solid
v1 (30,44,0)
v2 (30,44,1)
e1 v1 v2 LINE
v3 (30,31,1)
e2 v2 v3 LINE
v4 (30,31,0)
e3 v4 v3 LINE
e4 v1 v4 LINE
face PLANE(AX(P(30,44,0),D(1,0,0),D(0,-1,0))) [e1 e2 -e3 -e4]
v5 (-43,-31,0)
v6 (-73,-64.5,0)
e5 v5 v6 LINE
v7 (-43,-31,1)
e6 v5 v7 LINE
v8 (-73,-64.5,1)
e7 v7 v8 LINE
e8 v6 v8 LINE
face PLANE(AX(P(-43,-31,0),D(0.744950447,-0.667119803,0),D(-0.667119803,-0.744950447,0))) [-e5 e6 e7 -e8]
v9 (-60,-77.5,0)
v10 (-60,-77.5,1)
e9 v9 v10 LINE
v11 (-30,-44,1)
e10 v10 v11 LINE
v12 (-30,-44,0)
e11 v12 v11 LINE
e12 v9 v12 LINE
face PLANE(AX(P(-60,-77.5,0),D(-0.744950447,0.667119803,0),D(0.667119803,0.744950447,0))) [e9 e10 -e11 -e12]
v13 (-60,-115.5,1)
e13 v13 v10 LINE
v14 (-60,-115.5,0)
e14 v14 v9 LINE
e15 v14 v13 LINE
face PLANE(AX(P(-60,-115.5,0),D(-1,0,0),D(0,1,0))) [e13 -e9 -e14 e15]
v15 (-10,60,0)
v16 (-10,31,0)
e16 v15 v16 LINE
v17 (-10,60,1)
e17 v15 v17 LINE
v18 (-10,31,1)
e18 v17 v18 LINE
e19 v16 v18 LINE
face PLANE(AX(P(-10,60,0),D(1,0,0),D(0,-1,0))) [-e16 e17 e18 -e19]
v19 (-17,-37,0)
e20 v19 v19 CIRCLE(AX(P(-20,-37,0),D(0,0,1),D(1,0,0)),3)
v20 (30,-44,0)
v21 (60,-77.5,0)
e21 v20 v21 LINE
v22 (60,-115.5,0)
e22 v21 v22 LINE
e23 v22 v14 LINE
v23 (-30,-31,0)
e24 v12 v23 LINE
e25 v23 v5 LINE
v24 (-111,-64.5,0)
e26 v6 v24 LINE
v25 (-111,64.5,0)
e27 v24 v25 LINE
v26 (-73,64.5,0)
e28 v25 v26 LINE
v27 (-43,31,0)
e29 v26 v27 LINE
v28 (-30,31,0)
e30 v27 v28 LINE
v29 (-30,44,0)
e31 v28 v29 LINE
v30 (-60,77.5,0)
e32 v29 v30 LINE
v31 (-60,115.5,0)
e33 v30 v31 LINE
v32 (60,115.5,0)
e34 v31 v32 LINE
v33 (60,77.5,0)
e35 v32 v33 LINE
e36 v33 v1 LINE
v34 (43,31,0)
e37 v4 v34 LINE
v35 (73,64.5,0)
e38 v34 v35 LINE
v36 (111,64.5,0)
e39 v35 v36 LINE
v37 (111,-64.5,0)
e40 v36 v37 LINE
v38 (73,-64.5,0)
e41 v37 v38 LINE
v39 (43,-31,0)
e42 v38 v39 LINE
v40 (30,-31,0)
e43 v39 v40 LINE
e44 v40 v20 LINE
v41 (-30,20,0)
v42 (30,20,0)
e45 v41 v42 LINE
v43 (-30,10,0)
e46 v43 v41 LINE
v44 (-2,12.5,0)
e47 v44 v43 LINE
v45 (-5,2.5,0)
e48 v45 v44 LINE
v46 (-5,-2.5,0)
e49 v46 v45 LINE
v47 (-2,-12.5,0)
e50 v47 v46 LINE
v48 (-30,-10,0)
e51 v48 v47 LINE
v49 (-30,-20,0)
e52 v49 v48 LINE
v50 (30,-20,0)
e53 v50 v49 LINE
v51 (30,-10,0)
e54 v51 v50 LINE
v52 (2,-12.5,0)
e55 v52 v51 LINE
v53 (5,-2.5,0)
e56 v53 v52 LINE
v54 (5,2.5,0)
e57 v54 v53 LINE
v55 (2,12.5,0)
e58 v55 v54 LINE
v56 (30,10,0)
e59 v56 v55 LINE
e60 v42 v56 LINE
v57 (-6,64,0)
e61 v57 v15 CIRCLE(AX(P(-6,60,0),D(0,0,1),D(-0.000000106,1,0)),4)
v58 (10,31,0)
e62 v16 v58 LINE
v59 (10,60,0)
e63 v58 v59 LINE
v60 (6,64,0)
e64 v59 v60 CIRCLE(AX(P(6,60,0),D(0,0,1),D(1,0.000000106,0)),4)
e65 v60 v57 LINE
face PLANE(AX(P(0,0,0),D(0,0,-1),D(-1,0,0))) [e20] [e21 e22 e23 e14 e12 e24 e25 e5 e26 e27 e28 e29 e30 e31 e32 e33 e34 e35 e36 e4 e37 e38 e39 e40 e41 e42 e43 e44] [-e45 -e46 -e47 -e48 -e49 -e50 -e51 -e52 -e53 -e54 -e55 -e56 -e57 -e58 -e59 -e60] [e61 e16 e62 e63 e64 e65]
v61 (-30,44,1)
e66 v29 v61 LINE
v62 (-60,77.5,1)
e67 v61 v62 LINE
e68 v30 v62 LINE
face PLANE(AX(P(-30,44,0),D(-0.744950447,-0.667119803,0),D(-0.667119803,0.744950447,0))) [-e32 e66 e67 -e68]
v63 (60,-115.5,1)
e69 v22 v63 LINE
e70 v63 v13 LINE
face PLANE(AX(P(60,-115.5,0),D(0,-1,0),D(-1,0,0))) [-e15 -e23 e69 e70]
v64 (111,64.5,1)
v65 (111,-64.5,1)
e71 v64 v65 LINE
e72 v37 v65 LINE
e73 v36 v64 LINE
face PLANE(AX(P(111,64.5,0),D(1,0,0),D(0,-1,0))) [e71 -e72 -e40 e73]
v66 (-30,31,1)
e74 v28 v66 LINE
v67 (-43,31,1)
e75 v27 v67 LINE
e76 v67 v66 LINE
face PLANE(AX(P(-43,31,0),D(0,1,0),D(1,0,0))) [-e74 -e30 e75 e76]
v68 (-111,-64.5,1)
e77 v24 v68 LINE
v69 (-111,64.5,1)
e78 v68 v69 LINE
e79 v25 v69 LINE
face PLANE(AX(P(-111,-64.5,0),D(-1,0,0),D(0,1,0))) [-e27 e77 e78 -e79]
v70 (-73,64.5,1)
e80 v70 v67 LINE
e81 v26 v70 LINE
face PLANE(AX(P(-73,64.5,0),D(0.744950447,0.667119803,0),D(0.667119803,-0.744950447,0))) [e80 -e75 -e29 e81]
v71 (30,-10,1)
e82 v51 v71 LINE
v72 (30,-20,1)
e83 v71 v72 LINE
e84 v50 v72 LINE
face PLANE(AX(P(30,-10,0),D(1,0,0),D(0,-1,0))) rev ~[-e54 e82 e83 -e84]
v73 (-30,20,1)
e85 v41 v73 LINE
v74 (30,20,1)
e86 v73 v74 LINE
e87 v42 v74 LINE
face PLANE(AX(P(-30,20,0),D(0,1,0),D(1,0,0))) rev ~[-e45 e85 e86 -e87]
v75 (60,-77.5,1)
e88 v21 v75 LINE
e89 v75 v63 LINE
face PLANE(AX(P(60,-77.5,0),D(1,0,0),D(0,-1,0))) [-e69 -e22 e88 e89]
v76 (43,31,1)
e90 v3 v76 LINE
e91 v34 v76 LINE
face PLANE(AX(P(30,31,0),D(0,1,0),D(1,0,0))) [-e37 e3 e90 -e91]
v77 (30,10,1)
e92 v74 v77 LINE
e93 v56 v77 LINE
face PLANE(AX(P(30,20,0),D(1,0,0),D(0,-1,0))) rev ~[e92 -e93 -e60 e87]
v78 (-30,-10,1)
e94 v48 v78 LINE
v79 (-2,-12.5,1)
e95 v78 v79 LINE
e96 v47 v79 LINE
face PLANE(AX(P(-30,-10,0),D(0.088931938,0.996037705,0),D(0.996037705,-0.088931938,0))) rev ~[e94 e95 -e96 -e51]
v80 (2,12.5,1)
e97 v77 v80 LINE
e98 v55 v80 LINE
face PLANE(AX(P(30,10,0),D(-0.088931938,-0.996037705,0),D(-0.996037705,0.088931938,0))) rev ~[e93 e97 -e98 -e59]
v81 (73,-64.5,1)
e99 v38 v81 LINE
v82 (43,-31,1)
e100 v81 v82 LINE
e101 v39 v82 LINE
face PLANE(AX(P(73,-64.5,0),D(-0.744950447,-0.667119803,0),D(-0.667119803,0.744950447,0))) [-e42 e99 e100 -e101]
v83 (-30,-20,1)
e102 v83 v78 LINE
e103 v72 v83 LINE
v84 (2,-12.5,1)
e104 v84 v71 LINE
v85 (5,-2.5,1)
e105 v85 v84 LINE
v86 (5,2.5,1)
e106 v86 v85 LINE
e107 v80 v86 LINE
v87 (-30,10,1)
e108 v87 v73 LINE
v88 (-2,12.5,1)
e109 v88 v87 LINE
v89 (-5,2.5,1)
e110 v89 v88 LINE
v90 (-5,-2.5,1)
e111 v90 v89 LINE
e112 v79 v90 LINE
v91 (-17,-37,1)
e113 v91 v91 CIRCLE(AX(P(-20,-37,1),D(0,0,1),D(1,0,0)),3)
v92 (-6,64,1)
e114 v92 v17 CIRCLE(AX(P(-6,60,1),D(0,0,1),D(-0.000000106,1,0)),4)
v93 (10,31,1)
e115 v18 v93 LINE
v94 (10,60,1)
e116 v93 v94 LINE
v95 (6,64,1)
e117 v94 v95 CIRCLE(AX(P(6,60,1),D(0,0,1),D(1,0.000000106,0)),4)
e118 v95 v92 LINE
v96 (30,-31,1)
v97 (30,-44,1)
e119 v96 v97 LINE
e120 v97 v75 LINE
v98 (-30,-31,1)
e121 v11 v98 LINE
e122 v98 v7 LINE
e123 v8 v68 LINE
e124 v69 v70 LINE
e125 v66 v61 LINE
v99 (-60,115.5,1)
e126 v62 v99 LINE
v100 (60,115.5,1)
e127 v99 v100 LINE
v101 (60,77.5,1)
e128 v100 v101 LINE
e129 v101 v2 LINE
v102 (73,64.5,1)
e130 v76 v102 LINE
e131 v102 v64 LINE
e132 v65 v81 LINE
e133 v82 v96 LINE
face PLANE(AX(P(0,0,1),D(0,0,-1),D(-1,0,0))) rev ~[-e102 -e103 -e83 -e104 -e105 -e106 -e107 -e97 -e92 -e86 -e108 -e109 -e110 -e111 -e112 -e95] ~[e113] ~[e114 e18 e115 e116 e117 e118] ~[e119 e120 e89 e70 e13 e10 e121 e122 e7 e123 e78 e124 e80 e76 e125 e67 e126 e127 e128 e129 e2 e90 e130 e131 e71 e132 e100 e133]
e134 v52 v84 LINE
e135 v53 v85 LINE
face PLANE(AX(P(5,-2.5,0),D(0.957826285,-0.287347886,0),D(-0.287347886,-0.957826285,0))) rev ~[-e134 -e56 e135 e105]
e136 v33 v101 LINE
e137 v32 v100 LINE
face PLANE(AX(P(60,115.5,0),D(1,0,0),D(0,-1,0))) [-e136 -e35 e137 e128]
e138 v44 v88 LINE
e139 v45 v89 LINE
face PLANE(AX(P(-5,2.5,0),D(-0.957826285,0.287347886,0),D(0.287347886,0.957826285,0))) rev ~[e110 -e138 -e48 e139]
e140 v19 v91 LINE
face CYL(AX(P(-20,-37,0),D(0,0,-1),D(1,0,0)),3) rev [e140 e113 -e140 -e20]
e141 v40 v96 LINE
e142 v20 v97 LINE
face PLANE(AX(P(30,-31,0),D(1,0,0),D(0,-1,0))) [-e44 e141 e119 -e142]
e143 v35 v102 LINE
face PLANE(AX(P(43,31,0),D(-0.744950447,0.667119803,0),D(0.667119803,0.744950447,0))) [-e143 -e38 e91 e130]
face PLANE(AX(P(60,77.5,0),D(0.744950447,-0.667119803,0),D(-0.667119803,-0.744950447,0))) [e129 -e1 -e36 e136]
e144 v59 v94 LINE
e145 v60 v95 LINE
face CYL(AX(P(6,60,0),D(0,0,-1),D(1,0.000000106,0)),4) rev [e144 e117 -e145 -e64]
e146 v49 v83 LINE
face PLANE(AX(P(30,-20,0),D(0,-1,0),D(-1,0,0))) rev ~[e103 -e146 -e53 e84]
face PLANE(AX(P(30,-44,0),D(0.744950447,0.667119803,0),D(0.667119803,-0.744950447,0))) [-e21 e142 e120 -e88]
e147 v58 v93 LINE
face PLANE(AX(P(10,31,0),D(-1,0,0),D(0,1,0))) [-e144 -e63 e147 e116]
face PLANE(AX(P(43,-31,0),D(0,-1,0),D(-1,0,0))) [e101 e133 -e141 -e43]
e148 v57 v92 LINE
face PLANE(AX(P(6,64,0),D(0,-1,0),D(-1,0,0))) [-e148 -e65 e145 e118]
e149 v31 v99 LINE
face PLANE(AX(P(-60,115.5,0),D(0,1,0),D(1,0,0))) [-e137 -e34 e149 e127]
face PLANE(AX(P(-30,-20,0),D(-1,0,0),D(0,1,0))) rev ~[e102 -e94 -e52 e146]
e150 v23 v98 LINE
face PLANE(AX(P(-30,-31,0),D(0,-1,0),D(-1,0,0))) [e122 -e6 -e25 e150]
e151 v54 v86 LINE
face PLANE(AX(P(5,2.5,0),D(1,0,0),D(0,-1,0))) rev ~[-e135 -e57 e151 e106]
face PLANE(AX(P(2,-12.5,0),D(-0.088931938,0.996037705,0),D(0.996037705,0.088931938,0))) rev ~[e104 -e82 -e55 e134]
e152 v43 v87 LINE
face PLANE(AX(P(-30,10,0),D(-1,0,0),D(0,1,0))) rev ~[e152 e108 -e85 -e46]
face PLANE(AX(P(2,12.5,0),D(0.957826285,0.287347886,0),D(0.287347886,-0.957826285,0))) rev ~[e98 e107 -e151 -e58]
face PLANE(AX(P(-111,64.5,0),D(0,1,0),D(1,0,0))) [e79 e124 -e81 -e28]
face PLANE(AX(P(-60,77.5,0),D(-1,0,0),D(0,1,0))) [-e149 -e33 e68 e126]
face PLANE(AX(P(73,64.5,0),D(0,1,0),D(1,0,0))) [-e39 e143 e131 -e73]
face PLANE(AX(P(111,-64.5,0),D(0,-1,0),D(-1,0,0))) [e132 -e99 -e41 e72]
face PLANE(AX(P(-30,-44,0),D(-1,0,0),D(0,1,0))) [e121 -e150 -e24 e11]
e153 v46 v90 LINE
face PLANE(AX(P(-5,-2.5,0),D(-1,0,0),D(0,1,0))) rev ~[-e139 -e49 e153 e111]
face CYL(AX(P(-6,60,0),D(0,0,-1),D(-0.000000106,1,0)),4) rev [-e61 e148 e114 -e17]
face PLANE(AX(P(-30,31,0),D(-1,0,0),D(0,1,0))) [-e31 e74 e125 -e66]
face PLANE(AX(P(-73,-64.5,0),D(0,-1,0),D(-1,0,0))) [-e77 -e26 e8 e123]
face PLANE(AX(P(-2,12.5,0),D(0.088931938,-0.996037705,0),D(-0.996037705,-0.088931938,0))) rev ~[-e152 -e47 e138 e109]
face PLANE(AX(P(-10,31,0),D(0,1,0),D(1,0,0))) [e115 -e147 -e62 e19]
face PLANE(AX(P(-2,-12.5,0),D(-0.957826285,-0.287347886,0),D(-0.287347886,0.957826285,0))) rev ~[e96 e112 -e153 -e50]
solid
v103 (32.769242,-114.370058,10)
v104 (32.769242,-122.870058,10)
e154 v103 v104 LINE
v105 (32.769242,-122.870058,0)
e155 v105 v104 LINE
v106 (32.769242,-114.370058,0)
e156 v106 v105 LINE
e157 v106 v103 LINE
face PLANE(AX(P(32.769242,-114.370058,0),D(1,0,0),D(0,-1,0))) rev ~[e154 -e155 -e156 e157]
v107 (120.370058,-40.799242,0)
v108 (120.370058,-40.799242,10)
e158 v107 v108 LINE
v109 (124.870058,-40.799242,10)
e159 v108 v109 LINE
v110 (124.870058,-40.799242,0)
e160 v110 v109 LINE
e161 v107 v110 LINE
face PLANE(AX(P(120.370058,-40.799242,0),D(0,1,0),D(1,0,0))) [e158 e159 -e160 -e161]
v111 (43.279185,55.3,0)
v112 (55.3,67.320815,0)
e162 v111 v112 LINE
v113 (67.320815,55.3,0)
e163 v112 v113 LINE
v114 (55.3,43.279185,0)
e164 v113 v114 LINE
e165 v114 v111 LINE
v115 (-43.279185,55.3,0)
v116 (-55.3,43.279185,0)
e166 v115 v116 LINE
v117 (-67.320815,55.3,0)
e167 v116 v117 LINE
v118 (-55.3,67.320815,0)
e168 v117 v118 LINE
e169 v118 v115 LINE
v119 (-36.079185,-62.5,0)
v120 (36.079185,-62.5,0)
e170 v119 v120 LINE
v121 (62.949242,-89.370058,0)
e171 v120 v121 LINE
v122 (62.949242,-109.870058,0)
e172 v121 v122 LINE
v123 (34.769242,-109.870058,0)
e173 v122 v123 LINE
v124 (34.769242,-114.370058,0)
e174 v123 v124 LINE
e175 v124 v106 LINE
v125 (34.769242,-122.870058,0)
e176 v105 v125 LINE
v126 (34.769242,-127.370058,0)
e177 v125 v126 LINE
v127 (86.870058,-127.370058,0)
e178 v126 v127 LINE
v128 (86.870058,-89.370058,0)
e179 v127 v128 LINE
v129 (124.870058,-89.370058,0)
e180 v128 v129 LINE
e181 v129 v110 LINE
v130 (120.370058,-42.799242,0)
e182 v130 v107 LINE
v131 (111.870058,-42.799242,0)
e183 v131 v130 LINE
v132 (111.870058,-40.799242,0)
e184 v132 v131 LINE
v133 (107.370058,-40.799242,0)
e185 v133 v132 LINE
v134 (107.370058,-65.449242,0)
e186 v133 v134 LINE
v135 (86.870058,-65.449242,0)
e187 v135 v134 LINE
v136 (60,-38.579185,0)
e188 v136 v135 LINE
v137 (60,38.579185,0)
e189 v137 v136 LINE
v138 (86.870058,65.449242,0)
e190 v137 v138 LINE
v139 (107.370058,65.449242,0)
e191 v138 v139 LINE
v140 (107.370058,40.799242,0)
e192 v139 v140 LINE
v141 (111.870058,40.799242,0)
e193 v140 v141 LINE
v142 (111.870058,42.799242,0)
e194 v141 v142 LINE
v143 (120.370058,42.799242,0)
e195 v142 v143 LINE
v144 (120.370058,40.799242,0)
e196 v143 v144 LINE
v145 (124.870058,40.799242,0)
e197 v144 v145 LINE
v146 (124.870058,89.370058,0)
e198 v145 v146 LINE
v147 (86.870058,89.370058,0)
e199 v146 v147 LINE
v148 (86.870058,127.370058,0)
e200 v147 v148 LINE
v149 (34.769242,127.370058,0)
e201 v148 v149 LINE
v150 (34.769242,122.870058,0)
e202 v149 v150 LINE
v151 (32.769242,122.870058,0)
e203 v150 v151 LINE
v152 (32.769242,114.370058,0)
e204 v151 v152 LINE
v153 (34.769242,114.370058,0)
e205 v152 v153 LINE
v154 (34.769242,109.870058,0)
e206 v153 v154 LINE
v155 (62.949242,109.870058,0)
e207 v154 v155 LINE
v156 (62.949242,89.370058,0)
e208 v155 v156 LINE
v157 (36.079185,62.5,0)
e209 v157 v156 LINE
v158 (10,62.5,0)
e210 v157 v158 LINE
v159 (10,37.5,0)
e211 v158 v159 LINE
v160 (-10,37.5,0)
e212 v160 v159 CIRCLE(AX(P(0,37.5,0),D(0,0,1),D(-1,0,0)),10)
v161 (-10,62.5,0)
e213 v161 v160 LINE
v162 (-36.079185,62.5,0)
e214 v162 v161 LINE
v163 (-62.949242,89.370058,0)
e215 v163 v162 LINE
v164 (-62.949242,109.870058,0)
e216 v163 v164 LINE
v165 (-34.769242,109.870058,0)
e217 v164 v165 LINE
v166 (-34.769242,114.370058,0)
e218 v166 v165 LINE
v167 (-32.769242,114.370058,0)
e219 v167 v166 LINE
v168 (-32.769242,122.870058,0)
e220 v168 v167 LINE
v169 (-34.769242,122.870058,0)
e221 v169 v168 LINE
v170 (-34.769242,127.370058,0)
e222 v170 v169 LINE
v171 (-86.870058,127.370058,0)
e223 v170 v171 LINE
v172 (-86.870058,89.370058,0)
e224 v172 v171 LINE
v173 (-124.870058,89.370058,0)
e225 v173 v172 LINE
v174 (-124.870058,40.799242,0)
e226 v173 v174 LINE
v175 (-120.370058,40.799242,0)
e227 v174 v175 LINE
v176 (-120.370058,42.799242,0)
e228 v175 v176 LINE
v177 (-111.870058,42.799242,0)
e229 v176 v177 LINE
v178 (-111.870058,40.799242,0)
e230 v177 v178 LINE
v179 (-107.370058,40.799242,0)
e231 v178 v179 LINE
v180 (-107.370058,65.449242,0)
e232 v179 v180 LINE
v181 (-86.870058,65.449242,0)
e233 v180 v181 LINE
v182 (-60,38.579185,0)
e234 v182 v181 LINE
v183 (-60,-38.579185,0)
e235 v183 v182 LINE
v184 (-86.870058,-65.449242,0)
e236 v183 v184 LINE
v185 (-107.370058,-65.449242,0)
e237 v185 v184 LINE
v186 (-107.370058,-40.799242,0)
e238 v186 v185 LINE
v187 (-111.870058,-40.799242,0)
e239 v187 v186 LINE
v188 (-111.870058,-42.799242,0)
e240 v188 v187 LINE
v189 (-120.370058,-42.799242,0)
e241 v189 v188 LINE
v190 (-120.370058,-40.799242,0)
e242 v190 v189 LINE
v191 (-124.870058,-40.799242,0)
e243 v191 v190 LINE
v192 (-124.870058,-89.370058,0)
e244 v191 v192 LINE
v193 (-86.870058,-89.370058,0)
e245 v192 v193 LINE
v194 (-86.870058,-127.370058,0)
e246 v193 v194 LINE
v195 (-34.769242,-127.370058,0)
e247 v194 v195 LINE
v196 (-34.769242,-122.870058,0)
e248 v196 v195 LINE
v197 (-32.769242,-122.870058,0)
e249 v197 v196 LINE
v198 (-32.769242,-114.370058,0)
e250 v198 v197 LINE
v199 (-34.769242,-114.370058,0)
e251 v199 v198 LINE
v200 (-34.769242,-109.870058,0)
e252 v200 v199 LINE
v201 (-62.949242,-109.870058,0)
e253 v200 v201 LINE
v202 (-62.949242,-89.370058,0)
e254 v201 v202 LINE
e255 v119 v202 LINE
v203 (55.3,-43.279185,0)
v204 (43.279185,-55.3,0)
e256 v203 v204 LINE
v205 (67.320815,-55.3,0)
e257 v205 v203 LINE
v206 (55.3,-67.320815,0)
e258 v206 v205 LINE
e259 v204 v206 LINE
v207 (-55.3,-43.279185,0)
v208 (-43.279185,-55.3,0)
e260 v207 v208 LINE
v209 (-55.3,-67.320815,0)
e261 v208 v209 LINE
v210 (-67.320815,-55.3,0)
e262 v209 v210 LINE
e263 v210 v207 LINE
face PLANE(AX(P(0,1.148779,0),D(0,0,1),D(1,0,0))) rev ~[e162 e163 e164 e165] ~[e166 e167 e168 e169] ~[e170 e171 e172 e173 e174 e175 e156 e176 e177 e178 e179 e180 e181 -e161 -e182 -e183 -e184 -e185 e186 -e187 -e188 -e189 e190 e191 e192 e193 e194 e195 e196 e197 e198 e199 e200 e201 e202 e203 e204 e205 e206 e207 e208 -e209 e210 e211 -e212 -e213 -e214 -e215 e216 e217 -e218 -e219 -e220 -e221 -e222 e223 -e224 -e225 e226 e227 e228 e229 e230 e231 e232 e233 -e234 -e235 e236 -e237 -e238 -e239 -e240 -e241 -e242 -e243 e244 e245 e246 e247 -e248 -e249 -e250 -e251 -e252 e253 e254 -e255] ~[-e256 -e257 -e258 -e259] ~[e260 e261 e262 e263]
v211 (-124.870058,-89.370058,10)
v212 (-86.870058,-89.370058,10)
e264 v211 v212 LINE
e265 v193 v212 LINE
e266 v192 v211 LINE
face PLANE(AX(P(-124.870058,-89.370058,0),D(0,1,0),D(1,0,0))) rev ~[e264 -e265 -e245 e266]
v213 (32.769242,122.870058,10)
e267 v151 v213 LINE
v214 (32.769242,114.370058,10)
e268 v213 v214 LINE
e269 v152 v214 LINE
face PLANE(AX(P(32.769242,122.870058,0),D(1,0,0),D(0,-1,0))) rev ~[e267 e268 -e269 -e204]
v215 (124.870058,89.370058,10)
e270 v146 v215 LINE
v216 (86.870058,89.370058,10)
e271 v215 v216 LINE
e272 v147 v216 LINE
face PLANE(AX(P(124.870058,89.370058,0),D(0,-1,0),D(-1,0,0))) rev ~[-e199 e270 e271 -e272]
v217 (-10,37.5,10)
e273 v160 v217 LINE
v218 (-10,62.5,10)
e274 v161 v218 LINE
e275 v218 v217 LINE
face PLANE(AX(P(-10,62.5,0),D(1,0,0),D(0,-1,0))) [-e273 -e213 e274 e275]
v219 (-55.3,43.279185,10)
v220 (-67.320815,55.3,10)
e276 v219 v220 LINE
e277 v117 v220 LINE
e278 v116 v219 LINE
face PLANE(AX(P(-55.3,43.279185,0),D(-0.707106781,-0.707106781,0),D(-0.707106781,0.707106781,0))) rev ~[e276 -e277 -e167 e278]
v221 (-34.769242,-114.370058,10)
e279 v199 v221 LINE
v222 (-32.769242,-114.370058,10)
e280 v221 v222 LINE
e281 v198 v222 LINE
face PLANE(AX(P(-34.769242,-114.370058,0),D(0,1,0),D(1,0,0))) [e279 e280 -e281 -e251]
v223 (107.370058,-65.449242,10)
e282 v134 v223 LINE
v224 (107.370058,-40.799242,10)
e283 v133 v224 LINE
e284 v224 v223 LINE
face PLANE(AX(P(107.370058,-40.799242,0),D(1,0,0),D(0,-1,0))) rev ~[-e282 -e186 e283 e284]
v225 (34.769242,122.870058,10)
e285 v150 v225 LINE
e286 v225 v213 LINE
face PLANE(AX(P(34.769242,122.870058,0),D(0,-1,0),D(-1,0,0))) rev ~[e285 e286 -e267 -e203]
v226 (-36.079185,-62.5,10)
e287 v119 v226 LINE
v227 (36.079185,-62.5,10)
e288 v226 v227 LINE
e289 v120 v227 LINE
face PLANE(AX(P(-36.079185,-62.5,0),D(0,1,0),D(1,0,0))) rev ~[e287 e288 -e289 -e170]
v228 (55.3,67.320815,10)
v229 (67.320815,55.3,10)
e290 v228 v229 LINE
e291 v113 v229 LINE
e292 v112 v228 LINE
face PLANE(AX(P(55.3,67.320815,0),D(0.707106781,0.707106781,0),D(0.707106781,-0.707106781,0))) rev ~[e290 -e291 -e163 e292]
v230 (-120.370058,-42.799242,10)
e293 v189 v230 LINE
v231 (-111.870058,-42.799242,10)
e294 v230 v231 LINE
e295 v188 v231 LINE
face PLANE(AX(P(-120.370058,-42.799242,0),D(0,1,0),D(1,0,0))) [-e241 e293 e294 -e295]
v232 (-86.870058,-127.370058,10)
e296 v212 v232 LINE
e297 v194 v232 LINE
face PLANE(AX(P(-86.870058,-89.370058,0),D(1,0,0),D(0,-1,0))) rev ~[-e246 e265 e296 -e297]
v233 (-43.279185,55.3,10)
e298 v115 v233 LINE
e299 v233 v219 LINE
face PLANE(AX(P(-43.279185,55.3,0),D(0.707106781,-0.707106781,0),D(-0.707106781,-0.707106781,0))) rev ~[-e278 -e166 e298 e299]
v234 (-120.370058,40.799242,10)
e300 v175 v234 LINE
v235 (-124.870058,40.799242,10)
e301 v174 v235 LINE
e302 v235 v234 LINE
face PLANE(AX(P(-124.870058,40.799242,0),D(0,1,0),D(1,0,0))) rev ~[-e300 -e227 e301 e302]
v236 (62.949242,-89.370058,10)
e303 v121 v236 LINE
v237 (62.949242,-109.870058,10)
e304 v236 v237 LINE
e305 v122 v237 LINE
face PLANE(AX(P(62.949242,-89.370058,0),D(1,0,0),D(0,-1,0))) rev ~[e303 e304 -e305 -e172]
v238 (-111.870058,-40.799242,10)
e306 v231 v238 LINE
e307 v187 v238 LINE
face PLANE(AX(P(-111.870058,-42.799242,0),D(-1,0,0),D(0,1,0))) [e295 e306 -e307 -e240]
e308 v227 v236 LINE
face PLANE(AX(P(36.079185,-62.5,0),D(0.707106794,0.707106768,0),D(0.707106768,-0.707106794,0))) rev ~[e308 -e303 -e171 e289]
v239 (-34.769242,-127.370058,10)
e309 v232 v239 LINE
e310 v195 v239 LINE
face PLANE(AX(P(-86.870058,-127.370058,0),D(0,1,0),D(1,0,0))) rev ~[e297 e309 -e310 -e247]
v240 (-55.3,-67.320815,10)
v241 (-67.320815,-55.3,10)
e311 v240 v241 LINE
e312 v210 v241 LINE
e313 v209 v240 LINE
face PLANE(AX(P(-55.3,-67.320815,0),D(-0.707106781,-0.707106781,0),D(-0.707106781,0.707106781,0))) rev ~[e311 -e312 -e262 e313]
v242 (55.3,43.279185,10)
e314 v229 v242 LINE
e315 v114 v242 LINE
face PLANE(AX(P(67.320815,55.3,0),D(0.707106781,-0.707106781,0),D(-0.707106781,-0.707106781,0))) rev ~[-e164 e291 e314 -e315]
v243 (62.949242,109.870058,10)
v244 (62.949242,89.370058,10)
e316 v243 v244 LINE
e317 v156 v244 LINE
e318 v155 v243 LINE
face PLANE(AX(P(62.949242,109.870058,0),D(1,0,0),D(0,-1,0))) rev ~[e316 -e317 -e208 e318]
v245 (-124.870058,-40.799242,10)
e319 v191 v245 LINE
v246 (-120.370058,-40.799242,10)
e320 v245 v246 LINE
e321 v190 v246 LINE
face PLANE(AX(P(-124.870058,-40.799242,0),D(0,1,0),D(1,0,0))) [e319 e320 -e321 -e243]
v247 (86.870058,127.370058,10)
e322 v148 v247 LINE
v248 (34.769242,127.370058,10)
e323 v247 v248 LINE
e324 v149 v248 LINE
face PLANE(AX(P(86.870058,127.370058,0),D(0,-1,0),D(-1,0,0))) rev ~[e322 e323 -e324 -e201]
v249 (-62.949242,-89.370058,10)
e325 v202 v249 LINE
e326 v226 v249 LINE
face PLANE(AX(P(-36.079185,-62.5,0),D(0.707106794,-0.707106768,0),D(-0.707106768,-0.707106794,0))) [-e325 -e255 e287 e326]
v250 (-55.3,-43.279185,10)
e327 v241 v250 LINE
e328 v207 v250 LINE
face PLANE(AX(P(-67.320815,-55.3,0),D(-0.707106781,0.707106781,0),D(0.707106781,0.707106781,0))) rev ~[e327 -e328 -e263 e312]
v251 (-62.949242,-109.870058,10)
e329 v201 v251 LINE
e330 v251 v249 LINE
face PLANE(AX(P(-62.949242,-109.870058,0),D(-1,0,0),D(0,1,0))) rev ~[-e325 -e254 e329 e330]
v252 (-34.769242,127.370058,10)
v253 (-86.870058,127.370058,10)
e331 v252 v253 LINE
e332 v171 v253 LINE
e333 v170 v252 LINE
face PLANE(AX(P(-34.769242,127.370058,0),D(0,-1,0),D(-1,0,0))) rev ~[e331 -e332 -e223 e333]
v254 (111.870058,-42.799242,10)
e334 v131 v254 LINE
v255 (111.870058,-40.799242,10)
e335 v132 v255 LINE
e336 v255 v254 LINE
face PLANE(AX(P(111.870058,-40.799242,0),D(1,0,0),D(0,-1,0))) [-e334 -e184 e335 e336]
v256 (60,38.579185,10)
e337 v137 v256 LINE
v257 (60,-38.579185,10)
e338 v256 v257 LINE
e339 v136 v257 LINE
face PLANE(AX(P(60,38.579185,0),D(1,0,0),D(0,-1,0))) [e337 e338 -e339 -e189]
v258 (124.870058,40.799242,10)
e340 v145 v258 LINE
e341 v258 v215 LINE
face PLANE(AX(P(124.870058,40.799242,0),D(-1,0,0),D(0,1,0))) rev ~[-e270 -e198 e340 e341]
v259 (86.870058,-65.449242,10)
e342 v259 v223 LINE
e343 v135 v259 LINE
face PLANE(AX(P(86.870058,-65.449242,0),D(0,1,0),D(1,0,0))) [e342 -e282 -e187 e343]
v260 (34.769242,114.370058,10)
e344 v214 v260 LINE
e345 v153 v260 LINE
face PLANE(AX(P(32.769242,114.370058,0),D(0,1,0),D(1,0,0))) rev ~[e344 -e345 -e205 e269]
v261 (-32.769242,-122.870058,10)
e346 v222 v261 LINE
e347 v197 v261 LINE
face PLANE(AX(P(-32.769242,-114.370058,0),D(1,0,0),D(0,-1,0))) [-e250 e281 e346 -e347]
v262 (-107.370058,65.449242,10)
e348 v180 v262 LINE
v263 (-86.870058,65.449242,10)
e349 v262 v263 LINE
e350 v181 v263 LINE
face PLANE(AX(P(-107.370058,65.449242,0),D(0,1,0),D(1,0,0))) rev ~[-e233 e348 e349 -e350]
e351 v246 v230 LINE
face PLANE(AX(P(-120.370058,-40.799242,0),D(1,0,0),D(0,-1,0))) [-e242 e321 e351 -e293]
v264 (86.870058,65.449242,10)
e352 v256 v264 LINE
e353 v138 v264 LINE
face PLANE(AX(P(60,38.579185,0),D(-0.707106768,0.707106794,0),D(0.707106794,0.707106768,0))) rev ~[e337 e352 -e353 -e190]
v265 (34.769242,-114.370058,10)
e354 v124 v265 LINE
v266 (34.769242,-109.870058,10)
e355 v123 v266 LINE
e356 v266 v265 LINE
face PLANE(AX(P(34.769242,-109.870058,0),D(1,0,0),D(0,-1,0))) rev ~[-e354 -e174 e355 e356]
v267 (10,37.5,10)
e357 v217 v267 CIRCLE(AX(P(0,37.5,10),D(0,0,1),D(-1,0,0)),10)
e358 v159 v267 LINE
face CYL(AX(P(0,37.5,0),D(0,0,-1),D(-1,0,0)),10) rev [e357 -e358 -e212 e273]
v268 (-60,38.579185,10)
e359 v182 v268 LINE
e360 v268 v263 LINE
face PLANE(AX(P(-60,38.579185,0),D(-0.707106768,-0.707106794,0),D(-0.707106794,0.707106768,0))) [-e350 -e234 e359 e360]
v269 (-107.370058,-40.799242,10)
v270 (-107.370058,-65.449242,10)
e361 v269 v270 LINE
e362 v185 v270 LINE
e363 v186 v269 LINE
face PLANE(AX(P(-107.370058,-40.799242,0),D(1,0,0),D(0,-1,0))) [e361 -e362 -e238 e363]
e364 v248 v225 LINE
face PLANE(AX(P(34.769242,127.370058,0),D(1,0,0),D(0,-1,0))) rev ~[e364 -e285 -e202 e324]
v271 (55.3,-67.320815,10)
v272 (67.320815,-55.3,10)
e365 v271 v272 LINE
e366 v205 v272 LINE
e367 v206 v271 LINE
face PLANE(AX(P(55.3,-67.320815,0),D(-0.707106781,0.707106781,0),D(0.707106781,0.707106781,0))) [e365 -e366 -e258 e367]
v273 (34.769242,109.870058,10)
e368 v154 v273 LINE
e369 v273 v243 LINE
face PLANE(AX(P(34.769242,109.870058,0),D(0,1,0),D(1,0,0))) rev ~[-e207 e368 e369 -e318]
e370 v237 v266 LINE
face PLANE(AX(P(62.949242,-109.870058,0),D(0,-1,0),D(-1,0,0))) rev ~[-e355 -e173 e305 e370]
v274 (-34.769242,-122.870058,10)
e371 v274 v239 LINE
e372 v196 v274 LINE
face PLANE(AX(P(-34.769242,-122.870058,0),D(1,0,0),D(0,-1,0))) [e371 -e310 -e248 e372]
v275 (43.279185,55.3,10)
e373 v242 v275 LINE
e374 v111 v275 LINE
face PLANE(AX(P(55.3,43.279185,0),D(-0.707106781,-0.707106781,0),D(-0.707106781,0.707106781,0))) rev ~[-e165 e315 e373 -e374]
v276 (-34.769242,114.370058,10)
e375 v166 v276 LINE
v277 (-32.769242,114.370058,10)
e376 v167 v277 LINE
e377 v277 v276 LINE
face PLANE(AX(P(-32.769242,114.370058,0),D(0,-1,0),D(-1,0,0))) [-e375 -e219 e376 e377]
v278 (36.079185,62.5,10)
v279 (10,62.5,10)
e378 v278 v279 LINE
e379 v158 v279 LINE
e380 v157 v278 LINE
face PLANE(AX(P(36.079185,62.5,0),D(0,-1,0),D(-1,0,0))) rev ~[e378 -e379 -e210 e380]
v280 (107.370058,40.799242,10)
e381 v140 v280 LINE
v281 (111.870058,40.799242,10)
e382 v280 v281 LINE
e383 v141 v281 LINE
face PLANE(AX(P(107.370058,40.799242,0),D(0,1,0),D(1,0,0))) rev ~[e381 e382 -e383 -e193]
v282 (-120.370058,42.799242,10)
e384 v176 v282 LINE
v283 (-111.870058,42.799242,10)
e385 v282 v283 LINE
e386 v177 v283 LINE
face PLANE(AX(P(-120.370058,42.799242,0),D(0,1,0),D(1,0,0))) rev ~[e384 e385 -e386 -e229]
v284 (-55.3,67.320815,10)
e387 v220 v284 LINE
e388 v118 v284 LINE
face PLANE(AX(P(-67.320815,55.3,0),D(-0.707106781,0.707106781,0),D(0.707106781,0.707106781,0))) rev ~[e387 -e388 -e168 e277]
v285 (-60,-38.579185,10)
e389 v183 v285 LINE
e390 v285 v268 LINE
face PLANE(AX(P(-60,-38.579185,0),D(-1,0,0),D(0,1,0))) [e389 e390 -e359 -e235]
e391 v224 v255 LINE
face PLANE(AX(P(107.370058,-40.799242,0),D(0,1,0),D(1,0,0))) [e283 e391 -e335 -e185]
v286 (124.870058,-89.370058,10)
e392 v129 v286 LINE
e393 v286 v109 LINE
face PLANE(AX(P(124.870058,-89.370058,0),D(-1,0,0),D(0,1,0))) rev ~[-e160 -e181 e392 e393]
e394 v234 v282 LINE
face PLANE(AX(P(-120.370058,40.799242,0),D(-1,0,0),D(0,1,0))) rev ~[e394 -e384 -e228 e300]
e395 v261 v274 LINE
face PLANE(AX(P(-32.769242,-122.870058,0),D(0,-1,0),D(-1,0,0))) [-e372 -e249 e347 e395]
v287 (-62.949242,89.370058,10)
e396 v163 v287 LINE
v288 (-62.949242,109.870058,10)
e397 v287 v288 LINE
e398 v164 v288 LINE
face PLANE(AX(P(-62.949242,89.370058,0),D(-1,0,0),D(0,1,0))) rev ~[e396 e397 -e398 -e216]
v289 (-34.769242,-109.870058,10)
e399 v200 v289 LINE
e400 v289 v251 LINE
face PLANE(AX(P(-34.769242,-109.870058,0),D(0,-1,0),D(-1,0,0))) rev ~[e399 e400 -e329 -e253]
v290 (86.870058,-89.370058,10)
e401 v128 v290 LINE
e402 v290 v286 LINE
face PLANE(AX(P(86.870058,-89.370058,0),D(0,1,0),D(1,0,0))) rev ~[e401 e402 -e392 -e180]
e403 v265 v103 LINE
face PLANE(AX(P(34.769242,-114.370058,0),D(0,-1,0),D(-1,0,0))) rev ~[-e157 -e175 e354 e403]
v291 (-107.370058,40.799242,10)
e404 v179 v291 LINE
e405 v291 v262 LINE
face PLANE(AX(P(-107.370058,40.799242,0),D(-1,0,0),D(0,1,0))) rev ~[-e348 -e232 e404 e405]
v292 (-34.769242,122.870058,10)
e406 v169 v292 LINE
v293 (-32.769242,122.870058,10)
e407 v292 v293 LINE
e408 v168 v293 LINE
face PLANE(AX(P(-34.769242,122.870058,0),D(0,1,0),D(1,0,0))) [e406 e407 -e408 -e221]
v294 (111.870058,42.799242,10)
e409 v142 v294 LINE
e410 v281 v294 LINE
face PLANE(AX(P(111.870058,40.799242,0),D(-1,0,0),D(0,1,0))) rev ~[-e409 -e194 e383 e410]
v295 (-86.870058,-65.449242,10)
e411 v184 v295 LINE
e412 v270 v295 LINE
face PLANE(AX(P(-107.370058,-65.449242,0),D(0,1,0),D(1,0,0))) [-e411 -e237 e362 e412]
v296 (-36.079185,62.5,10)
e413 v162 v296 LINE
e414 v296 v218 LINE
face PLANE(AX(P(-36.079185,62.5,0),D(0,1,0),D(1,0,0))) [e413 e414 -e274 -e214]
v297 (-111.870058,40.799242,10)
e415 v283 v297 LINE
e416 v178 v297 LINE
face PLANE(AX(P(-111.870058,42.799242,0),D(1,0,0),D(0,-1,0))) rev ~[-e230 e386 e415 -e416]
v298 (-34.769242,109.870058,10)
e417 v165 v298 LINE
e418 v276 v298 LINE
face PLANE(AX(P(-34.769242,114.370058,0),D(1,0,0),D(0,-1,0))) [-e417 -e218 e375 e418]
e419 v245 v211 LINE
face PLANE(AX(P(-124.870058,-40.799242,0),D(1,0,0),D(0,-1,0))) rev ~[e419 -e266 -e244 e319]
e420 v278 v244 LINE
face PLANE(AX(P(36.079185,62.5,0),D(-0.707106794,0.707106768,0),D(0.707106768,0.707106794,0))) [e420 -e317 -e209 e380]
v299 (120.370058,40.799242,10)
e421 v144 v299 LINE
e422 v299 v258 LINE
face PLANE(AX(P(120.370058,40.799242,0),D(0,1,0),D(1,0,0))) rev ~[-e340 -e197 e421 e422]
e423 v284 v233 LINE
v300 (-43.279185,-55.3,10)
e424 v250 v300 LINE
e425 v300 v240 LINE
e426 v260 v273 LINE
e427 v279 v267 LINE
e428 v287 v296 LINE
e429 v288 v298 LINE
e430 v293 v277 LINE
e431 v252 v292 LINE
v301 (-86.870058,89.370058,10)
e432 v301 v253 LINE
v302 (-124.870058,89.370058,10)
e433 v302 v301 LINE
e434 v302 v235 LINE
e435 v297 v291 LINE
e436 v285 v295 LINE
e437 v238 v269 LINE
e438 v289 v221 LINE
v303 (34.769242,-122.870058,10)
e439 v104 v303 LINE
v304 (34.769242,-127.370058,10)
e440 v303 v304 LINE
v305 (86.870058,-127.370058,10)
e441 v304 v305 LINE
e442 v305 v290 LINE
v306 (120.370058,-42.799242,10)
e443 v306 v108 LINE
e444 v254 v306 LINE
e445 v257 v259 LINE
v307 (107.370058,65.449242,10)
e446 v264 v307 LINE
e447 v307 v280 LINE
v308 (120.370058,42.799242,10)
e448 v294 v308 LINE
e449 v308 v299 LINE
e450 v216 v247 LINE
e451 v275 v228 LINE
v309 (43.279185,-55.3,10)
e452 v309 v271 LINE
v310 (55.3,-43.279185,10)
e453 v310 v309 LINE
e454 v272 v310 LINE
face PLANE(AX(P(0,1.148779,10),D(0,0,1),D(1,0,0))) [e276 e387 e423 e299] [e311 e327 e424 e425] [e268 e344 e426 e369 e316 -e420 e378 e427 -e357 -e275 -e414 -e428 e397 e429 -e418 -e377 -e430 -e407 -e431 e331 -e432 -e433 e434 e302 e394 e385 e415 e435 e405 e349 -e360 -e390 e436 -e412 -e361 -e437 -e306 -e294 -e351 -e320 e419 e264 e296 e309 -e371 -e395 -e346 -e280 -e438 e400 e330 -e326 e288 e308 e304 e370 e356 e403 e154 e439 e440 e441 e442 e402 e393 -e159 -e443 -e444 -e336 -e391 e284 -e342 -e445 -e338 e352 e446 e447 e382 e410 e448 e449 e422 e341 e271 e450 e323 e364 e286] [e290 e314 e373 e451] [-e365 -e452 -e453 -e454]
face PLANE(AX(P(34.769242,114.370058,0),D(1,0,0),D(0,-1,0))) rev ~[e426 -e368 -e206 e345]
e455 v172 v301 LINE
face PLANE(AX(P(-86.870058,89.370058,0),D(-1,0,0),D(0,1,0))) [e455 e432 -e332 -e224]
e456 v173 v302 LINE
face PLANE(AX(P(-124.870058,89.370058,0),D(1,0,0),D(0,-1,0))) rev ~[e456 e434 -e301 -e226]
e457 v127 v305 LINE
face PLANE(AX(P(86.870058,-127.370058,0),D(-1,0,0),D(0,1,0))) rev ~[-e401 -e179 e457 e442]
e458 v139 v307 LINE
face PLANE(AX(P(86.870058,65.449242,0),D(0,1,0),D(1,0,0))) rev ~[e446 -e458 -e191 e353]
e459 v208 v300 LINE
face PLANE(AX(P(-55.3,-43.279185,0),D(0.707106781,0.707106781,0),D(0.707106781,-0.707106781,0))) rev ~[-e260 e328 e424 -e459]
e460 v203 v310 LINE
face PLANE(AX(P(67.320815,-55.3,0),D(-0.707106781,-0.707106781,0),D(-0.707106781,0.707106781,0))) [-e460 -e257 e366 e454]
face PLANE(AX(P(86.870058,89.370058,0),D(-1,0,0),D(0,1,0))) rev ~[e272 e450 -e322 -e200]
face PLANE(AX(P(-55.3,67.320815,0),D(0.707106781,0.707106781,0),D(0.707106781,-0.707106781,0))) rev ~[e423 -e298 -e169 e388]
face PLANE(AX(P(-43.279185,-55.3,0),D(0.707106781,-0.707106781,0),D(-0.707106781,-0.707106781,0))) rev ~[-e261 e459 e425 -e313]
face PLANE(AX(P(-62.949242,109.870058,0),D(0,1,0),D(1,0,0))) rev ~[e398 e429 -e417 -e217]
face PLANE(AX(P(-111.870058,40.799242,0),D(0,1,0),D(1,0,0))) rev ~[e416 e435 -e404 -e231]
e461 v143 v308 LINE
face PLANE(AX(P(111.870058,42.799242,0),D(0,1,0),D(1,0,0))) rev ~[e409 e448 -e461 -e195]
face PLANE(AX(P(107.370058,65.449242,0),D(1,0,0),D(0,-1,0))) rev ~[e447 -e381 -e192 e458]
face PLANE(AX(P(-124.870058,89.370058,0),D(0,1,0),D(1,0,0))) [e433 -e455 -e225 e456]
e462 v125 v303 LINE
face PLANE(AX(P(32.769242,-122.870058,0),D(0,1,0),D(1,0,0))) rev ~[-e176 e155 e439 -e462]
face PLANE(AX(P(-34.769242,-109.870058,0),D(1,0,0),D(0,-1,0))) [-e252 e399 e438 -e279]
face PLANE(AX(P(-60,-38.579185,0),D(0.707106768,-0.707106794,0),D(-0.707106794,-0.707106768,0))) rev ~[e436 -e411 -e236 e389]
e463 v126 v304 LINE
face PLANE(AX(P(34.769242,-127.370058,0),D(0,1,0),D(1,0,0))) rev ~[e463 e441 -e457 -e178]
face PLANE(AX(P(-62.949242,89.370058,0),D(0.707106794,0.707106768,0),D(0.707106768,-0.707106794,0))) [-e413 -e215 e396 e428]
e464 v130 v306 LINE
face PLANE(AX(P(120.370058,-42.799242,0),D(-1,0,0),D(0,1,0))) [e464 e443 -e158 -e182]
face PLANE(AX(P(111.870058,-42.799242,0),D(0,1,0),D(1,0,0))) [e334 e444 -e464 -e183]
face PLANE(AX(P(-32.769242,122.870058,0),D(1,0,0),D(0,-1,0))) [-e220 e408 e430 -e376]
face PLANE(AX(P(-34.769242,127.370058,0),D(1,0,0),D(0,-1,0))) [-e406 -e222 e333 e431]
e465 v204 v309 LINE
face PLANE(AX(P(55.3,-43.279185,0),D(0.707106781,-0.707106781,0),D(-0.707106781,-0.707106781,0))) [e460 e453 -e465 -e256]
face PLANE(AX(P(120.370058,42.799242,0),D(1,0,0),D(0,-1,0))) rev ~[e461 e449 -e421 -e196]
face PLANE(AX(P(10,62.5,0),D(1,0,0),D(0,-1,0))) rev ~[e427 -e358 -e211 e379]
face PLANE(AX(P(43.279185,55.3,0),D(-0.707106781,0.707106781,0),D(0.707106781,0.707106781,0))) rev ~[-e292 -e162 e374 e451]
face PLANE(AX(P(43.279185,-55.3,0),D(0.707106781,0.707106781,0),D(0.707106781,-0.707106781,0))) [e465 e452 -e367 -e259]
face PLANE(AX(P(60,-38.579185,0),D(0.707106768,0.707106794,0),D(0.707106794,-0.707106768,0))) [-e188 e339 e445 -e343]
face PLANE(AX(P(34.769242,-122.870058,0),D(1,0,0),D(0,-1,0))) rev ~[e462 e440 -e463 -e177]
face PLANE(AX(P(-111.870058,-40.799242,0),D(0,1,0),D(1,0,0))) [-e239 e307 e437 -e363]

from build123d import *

# Parameters (mm, degrees)
PAD_DEPTH    = 10
SKETCH001_R  = 3
PAD001_DEPTH = 1


with BuildPart() as body:
    # Sketch → Pad (new body)
    with BuildSketch(Plane.XY):
        with BuildLine():
            Line((-36.079185, -62.5), (36.079185, -62.5))
            Line((36.079185, -62.5), (62.949242, -89.370058))
            Line((62.949242, -89.370058), (62.949242, -109.870058))
            Line((62.949242, -109.870058), (59.949242, -109.870058))
            Line((59.949242, -109.870058), (48.769242, -109.870058))
            Line((48.769242, -109.870058), (34.769242, -109.870058))
            Line((34.769242, -109.870058), (34.769242, -114.370058))
            Line((34.769242, -114.370058), (32.769242, -114.370058))
            Line((32.769242, -114.370058), (32.769242, -122.870058))
            Line((32.769242, -122.870058), (34.769242, -122.870058))
            Line((34.769242, -122.870058), (34.769242, -127.370058))
            Line((34.769242, -127.370058), (48.769242, -127.370058))
            Line((48.769242, -127.370058), (59.949242, -127.370058))
            Line((59.949242, -127.370058), (62.949242, -127.370058))
            Line((62.949242, -127.370058), (86.870058, -127.370058))
            Line((86.870058, -127.370058), (86.870058, -89.370058))
            Line((86.870058, -89.370058), (124.870058, -89.370058))
            Line((124.870058, -89.370058), (124.870058, -65.449242))
            Line((124.870058, -62.449242), (124.870058, -65.449242))
            Line((124.870058, -54.799242), (124.870058, -62.449242))
            Line((124.870058, -54.799242), (124.870058, -40.799242))
            Line((120.370058, -40.799242), (124.870058, -40.799242))
            Line((120.370058, -42.799242), (120.370058, -40.799242))
            Line((111.870058, -42.799242), (120.370058, -42.799242))
            Line((111.870058, -40.799242), (111.870058, -42.799242))
            Line((107.370058, -40.799242), (111.870058, -40.799242))
            Line((107.370058, -40.799242), (107.370058, -54.799242))
            Line((107.370058, -62.449242), (107.370058, -54.799242))
            Line((107.370058, -65.449242), (107.370058, -62.449242))
            Line((86.870058, -65.449242), (107.370058, -65.449242))
            Line((60, -38.579185), (86.870058, -65.449242))
            Line((60, 38.579185), (60, -38.579185))
            Line((60, 38.579185), (86.870058, 65.449242))
            Line((86.870058, 65.449242), (107.370058, 65.449242))
            Line((107.370058, 65.449242), (107.370058, 62.449242))
            Line((107.370058, 62.449242), (107.370058, 54.799242))
            Line((107.370058, 54.799242), (107.370058, 40.799242))
            Line((107.370058, 40.799242), (111.870058, 40.799242))
            Line((111.870058, 40.799242), (111.870058, 42.799242))
            Line((111.870058, 42.799242), (120.370058, 42.799242))
            Line((120.370058, 42.799242), (120.370058, 40.799242))
            Line((120.370058, 40.799242), (124.870058, 40.799242))
            Line((124.870058, 40.799242), (124.870058, 54.799242))
            Line((124.870058, 54.799242), (124.870058, 62.449242))
            Line((124.870058, 62.449242), (124.870058, 65.449242))
            Line((124.870058, 65.449242), (124.870058, 89.370058))
            Line((124.870058, 89.370058), (86.870058, 89.370058))
            Line((86.870058, 89.370058), (86.870058, 127.370058))
            Line((86.870058, 127.370058), (62.949242, 127.370058))
            Line((62.949242, 127.370058), (59.949242, 127.370058))
            Line((59.949242, 127.370058), (48.769242, 127.370058))
            Line((48.769242, 127.370058), (34.769242, 127.370058))
            Line((34.769242, 127.370058), (34.769242, 122.870058))
            Line((34.769242, 122.870058), (32.769242, 122.870058))
            Line((32.769242, 122.870058), (32.769242, 114.370058))
            Line((32.769242, 114.370058), (34.769242, 114.370058))
            Line((34.769242, 114.370058), (34.769242, 109.870058))
            Line((34.769242, 109.870058), (48.769242, 109.870058))
            Line((48.769242, 109.870058), (59.949242, 109.870058))
            Line((59.949242, 109.870058), (62.949242, 109.870058))
            Line((62.949242, 109.870058), (62.949242, 89.370058))
            Line((36.079185, 62.5), (62.949242, 89.370058))
            Line((36.079185, 62.5), (10, 62.5))
            Line((10, 62.5), (10, 37.5))
            ThreePointArc((-10, 37.5), (0, 27.5), (10, 37.5))
            Line((-10, 62.5), (-10, 37.5))
            Line((-36.079185, 62.5), (-10, 62.5))
            Line((-62.949242, 89.370058), (-36.079185, 62.5))
            Line((-62.949242, 89.370058), (-62.949242, 109.870058))
            Line((-62.949242, 109.870058), (-59.949242, 109.870058))
            Line((-48.769242, 109.870058), (-59.949242, 109.870058))
            Line((-34.769242, 109.870058), (-48.769242, 109.870058))
            Line((-34.769242, 114.370058), (-34.769242, 109.870058))
            Line((-32.769242, 114.370058), (-34.769242, 114.370058))
            Line((-32.769242, 122.870058), (-32.769242, 114.370058))
            Line((-34.769242, 122.870058), (-32.769242, 122.870058))
            Line((-34.769242, 127.370058), (-34.769242, 122.870058))
            Line((-48.769242, 127.370058), (-34.769242, 127.370058))
            Line((-59.949242, 127.370058), (-48.769242, 127.370058))
            Line((-59.949242, 127.370058), (-62.949242, 127.370058))
            Line((-86.870058, 127.370058), (-62.949242, 127.370058))
            Line((-86.870058, 89.370058), (-86.870058, 127.370058))
            Line((-124.870058, 89.370058), (-86.870058, 89.370058))
            Line((-124.870058, 65.449242), (-124.870058, 89.370058))
            Line((-124.870058, 65.449242), (-124.870058, 62.449242))
            Line((-124.870058, 62.449242), (-124.870058, 54.799242))
            Line((-124.870058, 54.799242), (-124.870058, 40.799242))
            Line((-124.870058, 40.799242), (-120.370058, 40.799242))
            Line((-120.370058, 40.799242), (-120.370058, 42.799242))
            Line((-120.370058, 42.799242), (-111.870058, 42.799242))
            Line((-111.870058, 42.799242), (-111.870058, 40.799242))
            Line((-111.870058, 40.799242), (-107.370058, 40.799242))
            Line((-107.370058, 40.799242), (-107.370058, 54.799242))
            Line((-107.370058, 54.799242), (-107.370058, 62.449242))
            Line((-107.370058, 62.449242), (-107.370058, 65.449242))
            Line((-107.370058, 65.449242), (-86.870058, 65.449242))
            Line((-60, 38.579185), (-86.870058, 65.449242))
            Line((-60, -38.579185), (-60, 38.579185))
            Line((-60, -38.579185), (-86.870058, -65.449242))
            Line((-107.370058, -65.449242), (-86.870058, -65.449242))
            Line((-107.370058, -62.449242), (-107.370058, -65.449242))
            Line((-107.370058, -54.799242), (-107.370058, -62.449242))
            Line((-107.370058, -40.799242), (-107.370058, -54.799242))
            Line((-111.870058, -40.799242), (-107.370058, -40.799242))
            Line((-111.870058, -42.799242), (-111.870058, -40.799242))
            Line((-120.370058, -42.799242), (-111.870058, -42.799242))
            Line((-120.370058, -40.799242), (-120.370058, -42.799242))
            Line((-124.870058, -40.799242), (-120.370058, -40.799242))
            Line((-124.870058, -54.799242), (-124.870058, -40.799242))
            Line((-124.870058, -62.449242), (-124.870058, -54.799242))
            Line((-124.870058, -65.449242), (-124.870058, -62.449242))
            Line((-124.870058, -65.449242), (-124.870058, -89.370058))
            Line((-124.870058, -89.370058), (-86.870058, -89.370058))
            Line((-86.870058, -89.370058), (-86.870058, -127.370058))
            Line((-86.870058, -127.370058), (-62.949242, -127.370058))
            Line((-62.949242, -127.370058), (-59.949242, -127.370058))
            Line((-59.949242, -127.370058), (-48.769242, -127.370058))
            Line((-34.769242, -127.370058), (-48.769242, -127.370058))
            Line((-34.769242, -122.870058), (-34.769242, -127.370058))
            Line((-32.769242, -122.870058), (-34.769242, -122.870058))
            Line((-32.769242, -114.370058), (-32.769242, -122.870058))
            Line((-34.769242, -114.370058), (-32.769242, -114.370058))
            Line((-34.769242, -109.870058), (-34.769242, -114.370058))
            Line((-48.769242, -109.870058), (-34.769242, -109.870058))
            Line((-48.769242, -109.870058), (-59.949242, -109.870058))
            Line((-59.949242, -109.870058), (-62.949242, -109.870058))
            Line((-62.949242, -109.870058), (-62.949242, -89.370058))
            Line((-36.079185, -62.5), (-62.949242, -89.370058))
        make_face()
        Polygon((-55.3, 43.279185), (-67.320815, 55.3), (-55.3, 67.320815), (-43.279185, 55.3), align=None, mode=Mode.SUBTRACT)
        Polygon((43.279185, 55.3), (55.3, 67.320815), (67.320815, 55.3), (55.3, 43.279185), align=None, mode=Mode.SUBTRACT)
        Polygon((43.279185, -55.3), (55.3, -67.320815), (67.320815, -55.3), (55.3, -43.279185), align=None, mode=Mode.SUBTRACT)
        Polygon((-43.279185, -55.3), (-55.3, -67.320815), (-67.320815, -55.3), (-55.3, -43.279185), align=None, mode=Mode.SUBTRACT)
    extrude(amount=PAD_DEPTH)


with BuildPart() as body001:
    # Sketch001 → Pad001 (new body)
    with BuildSketch(Plane.XY):
        Polygon((-30, 31), (-30, 44), (-60, 77.5), (-60, 115.5), (60, 115.5), (60, 77.5), (30, 44), (30, 31), (43, 31), (73, 64.5), (111, 64.5), (111, -64.5), (73, -64.5), (43, -31), (30, -31), (30, -44), (60, -77.5), (60, -115.5), (-60, -115.5), (-60, -77.5), (-30, -44), (-30, -31), (-43, -31), (-73, -64.5), (-111, -64.5), (-111, 64.5), (-73, 64.5), (-43, 31), align=None)
        with Locations((-20, -37)):
            Circle(SKETCH001_R, mode=Mode.SUBTRACT)
        with BuildLine():
            Line((-10, 44), (-10, 31))
            Line((-10, 31), (10, 31))
            Line((10, 31), (10, 44))
            Line((10, 44), (10, 60))
            ThreePointArc((10, 60), (8.828427, 62.828427), (6, 64))
            Line((6, 64), (-6, 64))
            ThreePointArc((-6, 64), (-8.828427, 62.828427), (-10, 60))
            Line((-10, 60), (-10, 44))
        make_face(mode=Mode.SUBTRACT)
        Polygon((-5, -2.5), (-5, 2.5), (-2, 12.5), (-30, 10), (-30, 20), (30, 20), (30, 10), (2, 12.5), (5, 2.5), (5, -2.5), (2, -12.5), (30, -10), (30, -20), (-30, -20), (-30, -10), (-2, -12.5), align=None, mode=Mode.SUBTRACT)
    extrude(amount=PAD001_DEPTH)


solid = Compound([body.part, body001.part])
